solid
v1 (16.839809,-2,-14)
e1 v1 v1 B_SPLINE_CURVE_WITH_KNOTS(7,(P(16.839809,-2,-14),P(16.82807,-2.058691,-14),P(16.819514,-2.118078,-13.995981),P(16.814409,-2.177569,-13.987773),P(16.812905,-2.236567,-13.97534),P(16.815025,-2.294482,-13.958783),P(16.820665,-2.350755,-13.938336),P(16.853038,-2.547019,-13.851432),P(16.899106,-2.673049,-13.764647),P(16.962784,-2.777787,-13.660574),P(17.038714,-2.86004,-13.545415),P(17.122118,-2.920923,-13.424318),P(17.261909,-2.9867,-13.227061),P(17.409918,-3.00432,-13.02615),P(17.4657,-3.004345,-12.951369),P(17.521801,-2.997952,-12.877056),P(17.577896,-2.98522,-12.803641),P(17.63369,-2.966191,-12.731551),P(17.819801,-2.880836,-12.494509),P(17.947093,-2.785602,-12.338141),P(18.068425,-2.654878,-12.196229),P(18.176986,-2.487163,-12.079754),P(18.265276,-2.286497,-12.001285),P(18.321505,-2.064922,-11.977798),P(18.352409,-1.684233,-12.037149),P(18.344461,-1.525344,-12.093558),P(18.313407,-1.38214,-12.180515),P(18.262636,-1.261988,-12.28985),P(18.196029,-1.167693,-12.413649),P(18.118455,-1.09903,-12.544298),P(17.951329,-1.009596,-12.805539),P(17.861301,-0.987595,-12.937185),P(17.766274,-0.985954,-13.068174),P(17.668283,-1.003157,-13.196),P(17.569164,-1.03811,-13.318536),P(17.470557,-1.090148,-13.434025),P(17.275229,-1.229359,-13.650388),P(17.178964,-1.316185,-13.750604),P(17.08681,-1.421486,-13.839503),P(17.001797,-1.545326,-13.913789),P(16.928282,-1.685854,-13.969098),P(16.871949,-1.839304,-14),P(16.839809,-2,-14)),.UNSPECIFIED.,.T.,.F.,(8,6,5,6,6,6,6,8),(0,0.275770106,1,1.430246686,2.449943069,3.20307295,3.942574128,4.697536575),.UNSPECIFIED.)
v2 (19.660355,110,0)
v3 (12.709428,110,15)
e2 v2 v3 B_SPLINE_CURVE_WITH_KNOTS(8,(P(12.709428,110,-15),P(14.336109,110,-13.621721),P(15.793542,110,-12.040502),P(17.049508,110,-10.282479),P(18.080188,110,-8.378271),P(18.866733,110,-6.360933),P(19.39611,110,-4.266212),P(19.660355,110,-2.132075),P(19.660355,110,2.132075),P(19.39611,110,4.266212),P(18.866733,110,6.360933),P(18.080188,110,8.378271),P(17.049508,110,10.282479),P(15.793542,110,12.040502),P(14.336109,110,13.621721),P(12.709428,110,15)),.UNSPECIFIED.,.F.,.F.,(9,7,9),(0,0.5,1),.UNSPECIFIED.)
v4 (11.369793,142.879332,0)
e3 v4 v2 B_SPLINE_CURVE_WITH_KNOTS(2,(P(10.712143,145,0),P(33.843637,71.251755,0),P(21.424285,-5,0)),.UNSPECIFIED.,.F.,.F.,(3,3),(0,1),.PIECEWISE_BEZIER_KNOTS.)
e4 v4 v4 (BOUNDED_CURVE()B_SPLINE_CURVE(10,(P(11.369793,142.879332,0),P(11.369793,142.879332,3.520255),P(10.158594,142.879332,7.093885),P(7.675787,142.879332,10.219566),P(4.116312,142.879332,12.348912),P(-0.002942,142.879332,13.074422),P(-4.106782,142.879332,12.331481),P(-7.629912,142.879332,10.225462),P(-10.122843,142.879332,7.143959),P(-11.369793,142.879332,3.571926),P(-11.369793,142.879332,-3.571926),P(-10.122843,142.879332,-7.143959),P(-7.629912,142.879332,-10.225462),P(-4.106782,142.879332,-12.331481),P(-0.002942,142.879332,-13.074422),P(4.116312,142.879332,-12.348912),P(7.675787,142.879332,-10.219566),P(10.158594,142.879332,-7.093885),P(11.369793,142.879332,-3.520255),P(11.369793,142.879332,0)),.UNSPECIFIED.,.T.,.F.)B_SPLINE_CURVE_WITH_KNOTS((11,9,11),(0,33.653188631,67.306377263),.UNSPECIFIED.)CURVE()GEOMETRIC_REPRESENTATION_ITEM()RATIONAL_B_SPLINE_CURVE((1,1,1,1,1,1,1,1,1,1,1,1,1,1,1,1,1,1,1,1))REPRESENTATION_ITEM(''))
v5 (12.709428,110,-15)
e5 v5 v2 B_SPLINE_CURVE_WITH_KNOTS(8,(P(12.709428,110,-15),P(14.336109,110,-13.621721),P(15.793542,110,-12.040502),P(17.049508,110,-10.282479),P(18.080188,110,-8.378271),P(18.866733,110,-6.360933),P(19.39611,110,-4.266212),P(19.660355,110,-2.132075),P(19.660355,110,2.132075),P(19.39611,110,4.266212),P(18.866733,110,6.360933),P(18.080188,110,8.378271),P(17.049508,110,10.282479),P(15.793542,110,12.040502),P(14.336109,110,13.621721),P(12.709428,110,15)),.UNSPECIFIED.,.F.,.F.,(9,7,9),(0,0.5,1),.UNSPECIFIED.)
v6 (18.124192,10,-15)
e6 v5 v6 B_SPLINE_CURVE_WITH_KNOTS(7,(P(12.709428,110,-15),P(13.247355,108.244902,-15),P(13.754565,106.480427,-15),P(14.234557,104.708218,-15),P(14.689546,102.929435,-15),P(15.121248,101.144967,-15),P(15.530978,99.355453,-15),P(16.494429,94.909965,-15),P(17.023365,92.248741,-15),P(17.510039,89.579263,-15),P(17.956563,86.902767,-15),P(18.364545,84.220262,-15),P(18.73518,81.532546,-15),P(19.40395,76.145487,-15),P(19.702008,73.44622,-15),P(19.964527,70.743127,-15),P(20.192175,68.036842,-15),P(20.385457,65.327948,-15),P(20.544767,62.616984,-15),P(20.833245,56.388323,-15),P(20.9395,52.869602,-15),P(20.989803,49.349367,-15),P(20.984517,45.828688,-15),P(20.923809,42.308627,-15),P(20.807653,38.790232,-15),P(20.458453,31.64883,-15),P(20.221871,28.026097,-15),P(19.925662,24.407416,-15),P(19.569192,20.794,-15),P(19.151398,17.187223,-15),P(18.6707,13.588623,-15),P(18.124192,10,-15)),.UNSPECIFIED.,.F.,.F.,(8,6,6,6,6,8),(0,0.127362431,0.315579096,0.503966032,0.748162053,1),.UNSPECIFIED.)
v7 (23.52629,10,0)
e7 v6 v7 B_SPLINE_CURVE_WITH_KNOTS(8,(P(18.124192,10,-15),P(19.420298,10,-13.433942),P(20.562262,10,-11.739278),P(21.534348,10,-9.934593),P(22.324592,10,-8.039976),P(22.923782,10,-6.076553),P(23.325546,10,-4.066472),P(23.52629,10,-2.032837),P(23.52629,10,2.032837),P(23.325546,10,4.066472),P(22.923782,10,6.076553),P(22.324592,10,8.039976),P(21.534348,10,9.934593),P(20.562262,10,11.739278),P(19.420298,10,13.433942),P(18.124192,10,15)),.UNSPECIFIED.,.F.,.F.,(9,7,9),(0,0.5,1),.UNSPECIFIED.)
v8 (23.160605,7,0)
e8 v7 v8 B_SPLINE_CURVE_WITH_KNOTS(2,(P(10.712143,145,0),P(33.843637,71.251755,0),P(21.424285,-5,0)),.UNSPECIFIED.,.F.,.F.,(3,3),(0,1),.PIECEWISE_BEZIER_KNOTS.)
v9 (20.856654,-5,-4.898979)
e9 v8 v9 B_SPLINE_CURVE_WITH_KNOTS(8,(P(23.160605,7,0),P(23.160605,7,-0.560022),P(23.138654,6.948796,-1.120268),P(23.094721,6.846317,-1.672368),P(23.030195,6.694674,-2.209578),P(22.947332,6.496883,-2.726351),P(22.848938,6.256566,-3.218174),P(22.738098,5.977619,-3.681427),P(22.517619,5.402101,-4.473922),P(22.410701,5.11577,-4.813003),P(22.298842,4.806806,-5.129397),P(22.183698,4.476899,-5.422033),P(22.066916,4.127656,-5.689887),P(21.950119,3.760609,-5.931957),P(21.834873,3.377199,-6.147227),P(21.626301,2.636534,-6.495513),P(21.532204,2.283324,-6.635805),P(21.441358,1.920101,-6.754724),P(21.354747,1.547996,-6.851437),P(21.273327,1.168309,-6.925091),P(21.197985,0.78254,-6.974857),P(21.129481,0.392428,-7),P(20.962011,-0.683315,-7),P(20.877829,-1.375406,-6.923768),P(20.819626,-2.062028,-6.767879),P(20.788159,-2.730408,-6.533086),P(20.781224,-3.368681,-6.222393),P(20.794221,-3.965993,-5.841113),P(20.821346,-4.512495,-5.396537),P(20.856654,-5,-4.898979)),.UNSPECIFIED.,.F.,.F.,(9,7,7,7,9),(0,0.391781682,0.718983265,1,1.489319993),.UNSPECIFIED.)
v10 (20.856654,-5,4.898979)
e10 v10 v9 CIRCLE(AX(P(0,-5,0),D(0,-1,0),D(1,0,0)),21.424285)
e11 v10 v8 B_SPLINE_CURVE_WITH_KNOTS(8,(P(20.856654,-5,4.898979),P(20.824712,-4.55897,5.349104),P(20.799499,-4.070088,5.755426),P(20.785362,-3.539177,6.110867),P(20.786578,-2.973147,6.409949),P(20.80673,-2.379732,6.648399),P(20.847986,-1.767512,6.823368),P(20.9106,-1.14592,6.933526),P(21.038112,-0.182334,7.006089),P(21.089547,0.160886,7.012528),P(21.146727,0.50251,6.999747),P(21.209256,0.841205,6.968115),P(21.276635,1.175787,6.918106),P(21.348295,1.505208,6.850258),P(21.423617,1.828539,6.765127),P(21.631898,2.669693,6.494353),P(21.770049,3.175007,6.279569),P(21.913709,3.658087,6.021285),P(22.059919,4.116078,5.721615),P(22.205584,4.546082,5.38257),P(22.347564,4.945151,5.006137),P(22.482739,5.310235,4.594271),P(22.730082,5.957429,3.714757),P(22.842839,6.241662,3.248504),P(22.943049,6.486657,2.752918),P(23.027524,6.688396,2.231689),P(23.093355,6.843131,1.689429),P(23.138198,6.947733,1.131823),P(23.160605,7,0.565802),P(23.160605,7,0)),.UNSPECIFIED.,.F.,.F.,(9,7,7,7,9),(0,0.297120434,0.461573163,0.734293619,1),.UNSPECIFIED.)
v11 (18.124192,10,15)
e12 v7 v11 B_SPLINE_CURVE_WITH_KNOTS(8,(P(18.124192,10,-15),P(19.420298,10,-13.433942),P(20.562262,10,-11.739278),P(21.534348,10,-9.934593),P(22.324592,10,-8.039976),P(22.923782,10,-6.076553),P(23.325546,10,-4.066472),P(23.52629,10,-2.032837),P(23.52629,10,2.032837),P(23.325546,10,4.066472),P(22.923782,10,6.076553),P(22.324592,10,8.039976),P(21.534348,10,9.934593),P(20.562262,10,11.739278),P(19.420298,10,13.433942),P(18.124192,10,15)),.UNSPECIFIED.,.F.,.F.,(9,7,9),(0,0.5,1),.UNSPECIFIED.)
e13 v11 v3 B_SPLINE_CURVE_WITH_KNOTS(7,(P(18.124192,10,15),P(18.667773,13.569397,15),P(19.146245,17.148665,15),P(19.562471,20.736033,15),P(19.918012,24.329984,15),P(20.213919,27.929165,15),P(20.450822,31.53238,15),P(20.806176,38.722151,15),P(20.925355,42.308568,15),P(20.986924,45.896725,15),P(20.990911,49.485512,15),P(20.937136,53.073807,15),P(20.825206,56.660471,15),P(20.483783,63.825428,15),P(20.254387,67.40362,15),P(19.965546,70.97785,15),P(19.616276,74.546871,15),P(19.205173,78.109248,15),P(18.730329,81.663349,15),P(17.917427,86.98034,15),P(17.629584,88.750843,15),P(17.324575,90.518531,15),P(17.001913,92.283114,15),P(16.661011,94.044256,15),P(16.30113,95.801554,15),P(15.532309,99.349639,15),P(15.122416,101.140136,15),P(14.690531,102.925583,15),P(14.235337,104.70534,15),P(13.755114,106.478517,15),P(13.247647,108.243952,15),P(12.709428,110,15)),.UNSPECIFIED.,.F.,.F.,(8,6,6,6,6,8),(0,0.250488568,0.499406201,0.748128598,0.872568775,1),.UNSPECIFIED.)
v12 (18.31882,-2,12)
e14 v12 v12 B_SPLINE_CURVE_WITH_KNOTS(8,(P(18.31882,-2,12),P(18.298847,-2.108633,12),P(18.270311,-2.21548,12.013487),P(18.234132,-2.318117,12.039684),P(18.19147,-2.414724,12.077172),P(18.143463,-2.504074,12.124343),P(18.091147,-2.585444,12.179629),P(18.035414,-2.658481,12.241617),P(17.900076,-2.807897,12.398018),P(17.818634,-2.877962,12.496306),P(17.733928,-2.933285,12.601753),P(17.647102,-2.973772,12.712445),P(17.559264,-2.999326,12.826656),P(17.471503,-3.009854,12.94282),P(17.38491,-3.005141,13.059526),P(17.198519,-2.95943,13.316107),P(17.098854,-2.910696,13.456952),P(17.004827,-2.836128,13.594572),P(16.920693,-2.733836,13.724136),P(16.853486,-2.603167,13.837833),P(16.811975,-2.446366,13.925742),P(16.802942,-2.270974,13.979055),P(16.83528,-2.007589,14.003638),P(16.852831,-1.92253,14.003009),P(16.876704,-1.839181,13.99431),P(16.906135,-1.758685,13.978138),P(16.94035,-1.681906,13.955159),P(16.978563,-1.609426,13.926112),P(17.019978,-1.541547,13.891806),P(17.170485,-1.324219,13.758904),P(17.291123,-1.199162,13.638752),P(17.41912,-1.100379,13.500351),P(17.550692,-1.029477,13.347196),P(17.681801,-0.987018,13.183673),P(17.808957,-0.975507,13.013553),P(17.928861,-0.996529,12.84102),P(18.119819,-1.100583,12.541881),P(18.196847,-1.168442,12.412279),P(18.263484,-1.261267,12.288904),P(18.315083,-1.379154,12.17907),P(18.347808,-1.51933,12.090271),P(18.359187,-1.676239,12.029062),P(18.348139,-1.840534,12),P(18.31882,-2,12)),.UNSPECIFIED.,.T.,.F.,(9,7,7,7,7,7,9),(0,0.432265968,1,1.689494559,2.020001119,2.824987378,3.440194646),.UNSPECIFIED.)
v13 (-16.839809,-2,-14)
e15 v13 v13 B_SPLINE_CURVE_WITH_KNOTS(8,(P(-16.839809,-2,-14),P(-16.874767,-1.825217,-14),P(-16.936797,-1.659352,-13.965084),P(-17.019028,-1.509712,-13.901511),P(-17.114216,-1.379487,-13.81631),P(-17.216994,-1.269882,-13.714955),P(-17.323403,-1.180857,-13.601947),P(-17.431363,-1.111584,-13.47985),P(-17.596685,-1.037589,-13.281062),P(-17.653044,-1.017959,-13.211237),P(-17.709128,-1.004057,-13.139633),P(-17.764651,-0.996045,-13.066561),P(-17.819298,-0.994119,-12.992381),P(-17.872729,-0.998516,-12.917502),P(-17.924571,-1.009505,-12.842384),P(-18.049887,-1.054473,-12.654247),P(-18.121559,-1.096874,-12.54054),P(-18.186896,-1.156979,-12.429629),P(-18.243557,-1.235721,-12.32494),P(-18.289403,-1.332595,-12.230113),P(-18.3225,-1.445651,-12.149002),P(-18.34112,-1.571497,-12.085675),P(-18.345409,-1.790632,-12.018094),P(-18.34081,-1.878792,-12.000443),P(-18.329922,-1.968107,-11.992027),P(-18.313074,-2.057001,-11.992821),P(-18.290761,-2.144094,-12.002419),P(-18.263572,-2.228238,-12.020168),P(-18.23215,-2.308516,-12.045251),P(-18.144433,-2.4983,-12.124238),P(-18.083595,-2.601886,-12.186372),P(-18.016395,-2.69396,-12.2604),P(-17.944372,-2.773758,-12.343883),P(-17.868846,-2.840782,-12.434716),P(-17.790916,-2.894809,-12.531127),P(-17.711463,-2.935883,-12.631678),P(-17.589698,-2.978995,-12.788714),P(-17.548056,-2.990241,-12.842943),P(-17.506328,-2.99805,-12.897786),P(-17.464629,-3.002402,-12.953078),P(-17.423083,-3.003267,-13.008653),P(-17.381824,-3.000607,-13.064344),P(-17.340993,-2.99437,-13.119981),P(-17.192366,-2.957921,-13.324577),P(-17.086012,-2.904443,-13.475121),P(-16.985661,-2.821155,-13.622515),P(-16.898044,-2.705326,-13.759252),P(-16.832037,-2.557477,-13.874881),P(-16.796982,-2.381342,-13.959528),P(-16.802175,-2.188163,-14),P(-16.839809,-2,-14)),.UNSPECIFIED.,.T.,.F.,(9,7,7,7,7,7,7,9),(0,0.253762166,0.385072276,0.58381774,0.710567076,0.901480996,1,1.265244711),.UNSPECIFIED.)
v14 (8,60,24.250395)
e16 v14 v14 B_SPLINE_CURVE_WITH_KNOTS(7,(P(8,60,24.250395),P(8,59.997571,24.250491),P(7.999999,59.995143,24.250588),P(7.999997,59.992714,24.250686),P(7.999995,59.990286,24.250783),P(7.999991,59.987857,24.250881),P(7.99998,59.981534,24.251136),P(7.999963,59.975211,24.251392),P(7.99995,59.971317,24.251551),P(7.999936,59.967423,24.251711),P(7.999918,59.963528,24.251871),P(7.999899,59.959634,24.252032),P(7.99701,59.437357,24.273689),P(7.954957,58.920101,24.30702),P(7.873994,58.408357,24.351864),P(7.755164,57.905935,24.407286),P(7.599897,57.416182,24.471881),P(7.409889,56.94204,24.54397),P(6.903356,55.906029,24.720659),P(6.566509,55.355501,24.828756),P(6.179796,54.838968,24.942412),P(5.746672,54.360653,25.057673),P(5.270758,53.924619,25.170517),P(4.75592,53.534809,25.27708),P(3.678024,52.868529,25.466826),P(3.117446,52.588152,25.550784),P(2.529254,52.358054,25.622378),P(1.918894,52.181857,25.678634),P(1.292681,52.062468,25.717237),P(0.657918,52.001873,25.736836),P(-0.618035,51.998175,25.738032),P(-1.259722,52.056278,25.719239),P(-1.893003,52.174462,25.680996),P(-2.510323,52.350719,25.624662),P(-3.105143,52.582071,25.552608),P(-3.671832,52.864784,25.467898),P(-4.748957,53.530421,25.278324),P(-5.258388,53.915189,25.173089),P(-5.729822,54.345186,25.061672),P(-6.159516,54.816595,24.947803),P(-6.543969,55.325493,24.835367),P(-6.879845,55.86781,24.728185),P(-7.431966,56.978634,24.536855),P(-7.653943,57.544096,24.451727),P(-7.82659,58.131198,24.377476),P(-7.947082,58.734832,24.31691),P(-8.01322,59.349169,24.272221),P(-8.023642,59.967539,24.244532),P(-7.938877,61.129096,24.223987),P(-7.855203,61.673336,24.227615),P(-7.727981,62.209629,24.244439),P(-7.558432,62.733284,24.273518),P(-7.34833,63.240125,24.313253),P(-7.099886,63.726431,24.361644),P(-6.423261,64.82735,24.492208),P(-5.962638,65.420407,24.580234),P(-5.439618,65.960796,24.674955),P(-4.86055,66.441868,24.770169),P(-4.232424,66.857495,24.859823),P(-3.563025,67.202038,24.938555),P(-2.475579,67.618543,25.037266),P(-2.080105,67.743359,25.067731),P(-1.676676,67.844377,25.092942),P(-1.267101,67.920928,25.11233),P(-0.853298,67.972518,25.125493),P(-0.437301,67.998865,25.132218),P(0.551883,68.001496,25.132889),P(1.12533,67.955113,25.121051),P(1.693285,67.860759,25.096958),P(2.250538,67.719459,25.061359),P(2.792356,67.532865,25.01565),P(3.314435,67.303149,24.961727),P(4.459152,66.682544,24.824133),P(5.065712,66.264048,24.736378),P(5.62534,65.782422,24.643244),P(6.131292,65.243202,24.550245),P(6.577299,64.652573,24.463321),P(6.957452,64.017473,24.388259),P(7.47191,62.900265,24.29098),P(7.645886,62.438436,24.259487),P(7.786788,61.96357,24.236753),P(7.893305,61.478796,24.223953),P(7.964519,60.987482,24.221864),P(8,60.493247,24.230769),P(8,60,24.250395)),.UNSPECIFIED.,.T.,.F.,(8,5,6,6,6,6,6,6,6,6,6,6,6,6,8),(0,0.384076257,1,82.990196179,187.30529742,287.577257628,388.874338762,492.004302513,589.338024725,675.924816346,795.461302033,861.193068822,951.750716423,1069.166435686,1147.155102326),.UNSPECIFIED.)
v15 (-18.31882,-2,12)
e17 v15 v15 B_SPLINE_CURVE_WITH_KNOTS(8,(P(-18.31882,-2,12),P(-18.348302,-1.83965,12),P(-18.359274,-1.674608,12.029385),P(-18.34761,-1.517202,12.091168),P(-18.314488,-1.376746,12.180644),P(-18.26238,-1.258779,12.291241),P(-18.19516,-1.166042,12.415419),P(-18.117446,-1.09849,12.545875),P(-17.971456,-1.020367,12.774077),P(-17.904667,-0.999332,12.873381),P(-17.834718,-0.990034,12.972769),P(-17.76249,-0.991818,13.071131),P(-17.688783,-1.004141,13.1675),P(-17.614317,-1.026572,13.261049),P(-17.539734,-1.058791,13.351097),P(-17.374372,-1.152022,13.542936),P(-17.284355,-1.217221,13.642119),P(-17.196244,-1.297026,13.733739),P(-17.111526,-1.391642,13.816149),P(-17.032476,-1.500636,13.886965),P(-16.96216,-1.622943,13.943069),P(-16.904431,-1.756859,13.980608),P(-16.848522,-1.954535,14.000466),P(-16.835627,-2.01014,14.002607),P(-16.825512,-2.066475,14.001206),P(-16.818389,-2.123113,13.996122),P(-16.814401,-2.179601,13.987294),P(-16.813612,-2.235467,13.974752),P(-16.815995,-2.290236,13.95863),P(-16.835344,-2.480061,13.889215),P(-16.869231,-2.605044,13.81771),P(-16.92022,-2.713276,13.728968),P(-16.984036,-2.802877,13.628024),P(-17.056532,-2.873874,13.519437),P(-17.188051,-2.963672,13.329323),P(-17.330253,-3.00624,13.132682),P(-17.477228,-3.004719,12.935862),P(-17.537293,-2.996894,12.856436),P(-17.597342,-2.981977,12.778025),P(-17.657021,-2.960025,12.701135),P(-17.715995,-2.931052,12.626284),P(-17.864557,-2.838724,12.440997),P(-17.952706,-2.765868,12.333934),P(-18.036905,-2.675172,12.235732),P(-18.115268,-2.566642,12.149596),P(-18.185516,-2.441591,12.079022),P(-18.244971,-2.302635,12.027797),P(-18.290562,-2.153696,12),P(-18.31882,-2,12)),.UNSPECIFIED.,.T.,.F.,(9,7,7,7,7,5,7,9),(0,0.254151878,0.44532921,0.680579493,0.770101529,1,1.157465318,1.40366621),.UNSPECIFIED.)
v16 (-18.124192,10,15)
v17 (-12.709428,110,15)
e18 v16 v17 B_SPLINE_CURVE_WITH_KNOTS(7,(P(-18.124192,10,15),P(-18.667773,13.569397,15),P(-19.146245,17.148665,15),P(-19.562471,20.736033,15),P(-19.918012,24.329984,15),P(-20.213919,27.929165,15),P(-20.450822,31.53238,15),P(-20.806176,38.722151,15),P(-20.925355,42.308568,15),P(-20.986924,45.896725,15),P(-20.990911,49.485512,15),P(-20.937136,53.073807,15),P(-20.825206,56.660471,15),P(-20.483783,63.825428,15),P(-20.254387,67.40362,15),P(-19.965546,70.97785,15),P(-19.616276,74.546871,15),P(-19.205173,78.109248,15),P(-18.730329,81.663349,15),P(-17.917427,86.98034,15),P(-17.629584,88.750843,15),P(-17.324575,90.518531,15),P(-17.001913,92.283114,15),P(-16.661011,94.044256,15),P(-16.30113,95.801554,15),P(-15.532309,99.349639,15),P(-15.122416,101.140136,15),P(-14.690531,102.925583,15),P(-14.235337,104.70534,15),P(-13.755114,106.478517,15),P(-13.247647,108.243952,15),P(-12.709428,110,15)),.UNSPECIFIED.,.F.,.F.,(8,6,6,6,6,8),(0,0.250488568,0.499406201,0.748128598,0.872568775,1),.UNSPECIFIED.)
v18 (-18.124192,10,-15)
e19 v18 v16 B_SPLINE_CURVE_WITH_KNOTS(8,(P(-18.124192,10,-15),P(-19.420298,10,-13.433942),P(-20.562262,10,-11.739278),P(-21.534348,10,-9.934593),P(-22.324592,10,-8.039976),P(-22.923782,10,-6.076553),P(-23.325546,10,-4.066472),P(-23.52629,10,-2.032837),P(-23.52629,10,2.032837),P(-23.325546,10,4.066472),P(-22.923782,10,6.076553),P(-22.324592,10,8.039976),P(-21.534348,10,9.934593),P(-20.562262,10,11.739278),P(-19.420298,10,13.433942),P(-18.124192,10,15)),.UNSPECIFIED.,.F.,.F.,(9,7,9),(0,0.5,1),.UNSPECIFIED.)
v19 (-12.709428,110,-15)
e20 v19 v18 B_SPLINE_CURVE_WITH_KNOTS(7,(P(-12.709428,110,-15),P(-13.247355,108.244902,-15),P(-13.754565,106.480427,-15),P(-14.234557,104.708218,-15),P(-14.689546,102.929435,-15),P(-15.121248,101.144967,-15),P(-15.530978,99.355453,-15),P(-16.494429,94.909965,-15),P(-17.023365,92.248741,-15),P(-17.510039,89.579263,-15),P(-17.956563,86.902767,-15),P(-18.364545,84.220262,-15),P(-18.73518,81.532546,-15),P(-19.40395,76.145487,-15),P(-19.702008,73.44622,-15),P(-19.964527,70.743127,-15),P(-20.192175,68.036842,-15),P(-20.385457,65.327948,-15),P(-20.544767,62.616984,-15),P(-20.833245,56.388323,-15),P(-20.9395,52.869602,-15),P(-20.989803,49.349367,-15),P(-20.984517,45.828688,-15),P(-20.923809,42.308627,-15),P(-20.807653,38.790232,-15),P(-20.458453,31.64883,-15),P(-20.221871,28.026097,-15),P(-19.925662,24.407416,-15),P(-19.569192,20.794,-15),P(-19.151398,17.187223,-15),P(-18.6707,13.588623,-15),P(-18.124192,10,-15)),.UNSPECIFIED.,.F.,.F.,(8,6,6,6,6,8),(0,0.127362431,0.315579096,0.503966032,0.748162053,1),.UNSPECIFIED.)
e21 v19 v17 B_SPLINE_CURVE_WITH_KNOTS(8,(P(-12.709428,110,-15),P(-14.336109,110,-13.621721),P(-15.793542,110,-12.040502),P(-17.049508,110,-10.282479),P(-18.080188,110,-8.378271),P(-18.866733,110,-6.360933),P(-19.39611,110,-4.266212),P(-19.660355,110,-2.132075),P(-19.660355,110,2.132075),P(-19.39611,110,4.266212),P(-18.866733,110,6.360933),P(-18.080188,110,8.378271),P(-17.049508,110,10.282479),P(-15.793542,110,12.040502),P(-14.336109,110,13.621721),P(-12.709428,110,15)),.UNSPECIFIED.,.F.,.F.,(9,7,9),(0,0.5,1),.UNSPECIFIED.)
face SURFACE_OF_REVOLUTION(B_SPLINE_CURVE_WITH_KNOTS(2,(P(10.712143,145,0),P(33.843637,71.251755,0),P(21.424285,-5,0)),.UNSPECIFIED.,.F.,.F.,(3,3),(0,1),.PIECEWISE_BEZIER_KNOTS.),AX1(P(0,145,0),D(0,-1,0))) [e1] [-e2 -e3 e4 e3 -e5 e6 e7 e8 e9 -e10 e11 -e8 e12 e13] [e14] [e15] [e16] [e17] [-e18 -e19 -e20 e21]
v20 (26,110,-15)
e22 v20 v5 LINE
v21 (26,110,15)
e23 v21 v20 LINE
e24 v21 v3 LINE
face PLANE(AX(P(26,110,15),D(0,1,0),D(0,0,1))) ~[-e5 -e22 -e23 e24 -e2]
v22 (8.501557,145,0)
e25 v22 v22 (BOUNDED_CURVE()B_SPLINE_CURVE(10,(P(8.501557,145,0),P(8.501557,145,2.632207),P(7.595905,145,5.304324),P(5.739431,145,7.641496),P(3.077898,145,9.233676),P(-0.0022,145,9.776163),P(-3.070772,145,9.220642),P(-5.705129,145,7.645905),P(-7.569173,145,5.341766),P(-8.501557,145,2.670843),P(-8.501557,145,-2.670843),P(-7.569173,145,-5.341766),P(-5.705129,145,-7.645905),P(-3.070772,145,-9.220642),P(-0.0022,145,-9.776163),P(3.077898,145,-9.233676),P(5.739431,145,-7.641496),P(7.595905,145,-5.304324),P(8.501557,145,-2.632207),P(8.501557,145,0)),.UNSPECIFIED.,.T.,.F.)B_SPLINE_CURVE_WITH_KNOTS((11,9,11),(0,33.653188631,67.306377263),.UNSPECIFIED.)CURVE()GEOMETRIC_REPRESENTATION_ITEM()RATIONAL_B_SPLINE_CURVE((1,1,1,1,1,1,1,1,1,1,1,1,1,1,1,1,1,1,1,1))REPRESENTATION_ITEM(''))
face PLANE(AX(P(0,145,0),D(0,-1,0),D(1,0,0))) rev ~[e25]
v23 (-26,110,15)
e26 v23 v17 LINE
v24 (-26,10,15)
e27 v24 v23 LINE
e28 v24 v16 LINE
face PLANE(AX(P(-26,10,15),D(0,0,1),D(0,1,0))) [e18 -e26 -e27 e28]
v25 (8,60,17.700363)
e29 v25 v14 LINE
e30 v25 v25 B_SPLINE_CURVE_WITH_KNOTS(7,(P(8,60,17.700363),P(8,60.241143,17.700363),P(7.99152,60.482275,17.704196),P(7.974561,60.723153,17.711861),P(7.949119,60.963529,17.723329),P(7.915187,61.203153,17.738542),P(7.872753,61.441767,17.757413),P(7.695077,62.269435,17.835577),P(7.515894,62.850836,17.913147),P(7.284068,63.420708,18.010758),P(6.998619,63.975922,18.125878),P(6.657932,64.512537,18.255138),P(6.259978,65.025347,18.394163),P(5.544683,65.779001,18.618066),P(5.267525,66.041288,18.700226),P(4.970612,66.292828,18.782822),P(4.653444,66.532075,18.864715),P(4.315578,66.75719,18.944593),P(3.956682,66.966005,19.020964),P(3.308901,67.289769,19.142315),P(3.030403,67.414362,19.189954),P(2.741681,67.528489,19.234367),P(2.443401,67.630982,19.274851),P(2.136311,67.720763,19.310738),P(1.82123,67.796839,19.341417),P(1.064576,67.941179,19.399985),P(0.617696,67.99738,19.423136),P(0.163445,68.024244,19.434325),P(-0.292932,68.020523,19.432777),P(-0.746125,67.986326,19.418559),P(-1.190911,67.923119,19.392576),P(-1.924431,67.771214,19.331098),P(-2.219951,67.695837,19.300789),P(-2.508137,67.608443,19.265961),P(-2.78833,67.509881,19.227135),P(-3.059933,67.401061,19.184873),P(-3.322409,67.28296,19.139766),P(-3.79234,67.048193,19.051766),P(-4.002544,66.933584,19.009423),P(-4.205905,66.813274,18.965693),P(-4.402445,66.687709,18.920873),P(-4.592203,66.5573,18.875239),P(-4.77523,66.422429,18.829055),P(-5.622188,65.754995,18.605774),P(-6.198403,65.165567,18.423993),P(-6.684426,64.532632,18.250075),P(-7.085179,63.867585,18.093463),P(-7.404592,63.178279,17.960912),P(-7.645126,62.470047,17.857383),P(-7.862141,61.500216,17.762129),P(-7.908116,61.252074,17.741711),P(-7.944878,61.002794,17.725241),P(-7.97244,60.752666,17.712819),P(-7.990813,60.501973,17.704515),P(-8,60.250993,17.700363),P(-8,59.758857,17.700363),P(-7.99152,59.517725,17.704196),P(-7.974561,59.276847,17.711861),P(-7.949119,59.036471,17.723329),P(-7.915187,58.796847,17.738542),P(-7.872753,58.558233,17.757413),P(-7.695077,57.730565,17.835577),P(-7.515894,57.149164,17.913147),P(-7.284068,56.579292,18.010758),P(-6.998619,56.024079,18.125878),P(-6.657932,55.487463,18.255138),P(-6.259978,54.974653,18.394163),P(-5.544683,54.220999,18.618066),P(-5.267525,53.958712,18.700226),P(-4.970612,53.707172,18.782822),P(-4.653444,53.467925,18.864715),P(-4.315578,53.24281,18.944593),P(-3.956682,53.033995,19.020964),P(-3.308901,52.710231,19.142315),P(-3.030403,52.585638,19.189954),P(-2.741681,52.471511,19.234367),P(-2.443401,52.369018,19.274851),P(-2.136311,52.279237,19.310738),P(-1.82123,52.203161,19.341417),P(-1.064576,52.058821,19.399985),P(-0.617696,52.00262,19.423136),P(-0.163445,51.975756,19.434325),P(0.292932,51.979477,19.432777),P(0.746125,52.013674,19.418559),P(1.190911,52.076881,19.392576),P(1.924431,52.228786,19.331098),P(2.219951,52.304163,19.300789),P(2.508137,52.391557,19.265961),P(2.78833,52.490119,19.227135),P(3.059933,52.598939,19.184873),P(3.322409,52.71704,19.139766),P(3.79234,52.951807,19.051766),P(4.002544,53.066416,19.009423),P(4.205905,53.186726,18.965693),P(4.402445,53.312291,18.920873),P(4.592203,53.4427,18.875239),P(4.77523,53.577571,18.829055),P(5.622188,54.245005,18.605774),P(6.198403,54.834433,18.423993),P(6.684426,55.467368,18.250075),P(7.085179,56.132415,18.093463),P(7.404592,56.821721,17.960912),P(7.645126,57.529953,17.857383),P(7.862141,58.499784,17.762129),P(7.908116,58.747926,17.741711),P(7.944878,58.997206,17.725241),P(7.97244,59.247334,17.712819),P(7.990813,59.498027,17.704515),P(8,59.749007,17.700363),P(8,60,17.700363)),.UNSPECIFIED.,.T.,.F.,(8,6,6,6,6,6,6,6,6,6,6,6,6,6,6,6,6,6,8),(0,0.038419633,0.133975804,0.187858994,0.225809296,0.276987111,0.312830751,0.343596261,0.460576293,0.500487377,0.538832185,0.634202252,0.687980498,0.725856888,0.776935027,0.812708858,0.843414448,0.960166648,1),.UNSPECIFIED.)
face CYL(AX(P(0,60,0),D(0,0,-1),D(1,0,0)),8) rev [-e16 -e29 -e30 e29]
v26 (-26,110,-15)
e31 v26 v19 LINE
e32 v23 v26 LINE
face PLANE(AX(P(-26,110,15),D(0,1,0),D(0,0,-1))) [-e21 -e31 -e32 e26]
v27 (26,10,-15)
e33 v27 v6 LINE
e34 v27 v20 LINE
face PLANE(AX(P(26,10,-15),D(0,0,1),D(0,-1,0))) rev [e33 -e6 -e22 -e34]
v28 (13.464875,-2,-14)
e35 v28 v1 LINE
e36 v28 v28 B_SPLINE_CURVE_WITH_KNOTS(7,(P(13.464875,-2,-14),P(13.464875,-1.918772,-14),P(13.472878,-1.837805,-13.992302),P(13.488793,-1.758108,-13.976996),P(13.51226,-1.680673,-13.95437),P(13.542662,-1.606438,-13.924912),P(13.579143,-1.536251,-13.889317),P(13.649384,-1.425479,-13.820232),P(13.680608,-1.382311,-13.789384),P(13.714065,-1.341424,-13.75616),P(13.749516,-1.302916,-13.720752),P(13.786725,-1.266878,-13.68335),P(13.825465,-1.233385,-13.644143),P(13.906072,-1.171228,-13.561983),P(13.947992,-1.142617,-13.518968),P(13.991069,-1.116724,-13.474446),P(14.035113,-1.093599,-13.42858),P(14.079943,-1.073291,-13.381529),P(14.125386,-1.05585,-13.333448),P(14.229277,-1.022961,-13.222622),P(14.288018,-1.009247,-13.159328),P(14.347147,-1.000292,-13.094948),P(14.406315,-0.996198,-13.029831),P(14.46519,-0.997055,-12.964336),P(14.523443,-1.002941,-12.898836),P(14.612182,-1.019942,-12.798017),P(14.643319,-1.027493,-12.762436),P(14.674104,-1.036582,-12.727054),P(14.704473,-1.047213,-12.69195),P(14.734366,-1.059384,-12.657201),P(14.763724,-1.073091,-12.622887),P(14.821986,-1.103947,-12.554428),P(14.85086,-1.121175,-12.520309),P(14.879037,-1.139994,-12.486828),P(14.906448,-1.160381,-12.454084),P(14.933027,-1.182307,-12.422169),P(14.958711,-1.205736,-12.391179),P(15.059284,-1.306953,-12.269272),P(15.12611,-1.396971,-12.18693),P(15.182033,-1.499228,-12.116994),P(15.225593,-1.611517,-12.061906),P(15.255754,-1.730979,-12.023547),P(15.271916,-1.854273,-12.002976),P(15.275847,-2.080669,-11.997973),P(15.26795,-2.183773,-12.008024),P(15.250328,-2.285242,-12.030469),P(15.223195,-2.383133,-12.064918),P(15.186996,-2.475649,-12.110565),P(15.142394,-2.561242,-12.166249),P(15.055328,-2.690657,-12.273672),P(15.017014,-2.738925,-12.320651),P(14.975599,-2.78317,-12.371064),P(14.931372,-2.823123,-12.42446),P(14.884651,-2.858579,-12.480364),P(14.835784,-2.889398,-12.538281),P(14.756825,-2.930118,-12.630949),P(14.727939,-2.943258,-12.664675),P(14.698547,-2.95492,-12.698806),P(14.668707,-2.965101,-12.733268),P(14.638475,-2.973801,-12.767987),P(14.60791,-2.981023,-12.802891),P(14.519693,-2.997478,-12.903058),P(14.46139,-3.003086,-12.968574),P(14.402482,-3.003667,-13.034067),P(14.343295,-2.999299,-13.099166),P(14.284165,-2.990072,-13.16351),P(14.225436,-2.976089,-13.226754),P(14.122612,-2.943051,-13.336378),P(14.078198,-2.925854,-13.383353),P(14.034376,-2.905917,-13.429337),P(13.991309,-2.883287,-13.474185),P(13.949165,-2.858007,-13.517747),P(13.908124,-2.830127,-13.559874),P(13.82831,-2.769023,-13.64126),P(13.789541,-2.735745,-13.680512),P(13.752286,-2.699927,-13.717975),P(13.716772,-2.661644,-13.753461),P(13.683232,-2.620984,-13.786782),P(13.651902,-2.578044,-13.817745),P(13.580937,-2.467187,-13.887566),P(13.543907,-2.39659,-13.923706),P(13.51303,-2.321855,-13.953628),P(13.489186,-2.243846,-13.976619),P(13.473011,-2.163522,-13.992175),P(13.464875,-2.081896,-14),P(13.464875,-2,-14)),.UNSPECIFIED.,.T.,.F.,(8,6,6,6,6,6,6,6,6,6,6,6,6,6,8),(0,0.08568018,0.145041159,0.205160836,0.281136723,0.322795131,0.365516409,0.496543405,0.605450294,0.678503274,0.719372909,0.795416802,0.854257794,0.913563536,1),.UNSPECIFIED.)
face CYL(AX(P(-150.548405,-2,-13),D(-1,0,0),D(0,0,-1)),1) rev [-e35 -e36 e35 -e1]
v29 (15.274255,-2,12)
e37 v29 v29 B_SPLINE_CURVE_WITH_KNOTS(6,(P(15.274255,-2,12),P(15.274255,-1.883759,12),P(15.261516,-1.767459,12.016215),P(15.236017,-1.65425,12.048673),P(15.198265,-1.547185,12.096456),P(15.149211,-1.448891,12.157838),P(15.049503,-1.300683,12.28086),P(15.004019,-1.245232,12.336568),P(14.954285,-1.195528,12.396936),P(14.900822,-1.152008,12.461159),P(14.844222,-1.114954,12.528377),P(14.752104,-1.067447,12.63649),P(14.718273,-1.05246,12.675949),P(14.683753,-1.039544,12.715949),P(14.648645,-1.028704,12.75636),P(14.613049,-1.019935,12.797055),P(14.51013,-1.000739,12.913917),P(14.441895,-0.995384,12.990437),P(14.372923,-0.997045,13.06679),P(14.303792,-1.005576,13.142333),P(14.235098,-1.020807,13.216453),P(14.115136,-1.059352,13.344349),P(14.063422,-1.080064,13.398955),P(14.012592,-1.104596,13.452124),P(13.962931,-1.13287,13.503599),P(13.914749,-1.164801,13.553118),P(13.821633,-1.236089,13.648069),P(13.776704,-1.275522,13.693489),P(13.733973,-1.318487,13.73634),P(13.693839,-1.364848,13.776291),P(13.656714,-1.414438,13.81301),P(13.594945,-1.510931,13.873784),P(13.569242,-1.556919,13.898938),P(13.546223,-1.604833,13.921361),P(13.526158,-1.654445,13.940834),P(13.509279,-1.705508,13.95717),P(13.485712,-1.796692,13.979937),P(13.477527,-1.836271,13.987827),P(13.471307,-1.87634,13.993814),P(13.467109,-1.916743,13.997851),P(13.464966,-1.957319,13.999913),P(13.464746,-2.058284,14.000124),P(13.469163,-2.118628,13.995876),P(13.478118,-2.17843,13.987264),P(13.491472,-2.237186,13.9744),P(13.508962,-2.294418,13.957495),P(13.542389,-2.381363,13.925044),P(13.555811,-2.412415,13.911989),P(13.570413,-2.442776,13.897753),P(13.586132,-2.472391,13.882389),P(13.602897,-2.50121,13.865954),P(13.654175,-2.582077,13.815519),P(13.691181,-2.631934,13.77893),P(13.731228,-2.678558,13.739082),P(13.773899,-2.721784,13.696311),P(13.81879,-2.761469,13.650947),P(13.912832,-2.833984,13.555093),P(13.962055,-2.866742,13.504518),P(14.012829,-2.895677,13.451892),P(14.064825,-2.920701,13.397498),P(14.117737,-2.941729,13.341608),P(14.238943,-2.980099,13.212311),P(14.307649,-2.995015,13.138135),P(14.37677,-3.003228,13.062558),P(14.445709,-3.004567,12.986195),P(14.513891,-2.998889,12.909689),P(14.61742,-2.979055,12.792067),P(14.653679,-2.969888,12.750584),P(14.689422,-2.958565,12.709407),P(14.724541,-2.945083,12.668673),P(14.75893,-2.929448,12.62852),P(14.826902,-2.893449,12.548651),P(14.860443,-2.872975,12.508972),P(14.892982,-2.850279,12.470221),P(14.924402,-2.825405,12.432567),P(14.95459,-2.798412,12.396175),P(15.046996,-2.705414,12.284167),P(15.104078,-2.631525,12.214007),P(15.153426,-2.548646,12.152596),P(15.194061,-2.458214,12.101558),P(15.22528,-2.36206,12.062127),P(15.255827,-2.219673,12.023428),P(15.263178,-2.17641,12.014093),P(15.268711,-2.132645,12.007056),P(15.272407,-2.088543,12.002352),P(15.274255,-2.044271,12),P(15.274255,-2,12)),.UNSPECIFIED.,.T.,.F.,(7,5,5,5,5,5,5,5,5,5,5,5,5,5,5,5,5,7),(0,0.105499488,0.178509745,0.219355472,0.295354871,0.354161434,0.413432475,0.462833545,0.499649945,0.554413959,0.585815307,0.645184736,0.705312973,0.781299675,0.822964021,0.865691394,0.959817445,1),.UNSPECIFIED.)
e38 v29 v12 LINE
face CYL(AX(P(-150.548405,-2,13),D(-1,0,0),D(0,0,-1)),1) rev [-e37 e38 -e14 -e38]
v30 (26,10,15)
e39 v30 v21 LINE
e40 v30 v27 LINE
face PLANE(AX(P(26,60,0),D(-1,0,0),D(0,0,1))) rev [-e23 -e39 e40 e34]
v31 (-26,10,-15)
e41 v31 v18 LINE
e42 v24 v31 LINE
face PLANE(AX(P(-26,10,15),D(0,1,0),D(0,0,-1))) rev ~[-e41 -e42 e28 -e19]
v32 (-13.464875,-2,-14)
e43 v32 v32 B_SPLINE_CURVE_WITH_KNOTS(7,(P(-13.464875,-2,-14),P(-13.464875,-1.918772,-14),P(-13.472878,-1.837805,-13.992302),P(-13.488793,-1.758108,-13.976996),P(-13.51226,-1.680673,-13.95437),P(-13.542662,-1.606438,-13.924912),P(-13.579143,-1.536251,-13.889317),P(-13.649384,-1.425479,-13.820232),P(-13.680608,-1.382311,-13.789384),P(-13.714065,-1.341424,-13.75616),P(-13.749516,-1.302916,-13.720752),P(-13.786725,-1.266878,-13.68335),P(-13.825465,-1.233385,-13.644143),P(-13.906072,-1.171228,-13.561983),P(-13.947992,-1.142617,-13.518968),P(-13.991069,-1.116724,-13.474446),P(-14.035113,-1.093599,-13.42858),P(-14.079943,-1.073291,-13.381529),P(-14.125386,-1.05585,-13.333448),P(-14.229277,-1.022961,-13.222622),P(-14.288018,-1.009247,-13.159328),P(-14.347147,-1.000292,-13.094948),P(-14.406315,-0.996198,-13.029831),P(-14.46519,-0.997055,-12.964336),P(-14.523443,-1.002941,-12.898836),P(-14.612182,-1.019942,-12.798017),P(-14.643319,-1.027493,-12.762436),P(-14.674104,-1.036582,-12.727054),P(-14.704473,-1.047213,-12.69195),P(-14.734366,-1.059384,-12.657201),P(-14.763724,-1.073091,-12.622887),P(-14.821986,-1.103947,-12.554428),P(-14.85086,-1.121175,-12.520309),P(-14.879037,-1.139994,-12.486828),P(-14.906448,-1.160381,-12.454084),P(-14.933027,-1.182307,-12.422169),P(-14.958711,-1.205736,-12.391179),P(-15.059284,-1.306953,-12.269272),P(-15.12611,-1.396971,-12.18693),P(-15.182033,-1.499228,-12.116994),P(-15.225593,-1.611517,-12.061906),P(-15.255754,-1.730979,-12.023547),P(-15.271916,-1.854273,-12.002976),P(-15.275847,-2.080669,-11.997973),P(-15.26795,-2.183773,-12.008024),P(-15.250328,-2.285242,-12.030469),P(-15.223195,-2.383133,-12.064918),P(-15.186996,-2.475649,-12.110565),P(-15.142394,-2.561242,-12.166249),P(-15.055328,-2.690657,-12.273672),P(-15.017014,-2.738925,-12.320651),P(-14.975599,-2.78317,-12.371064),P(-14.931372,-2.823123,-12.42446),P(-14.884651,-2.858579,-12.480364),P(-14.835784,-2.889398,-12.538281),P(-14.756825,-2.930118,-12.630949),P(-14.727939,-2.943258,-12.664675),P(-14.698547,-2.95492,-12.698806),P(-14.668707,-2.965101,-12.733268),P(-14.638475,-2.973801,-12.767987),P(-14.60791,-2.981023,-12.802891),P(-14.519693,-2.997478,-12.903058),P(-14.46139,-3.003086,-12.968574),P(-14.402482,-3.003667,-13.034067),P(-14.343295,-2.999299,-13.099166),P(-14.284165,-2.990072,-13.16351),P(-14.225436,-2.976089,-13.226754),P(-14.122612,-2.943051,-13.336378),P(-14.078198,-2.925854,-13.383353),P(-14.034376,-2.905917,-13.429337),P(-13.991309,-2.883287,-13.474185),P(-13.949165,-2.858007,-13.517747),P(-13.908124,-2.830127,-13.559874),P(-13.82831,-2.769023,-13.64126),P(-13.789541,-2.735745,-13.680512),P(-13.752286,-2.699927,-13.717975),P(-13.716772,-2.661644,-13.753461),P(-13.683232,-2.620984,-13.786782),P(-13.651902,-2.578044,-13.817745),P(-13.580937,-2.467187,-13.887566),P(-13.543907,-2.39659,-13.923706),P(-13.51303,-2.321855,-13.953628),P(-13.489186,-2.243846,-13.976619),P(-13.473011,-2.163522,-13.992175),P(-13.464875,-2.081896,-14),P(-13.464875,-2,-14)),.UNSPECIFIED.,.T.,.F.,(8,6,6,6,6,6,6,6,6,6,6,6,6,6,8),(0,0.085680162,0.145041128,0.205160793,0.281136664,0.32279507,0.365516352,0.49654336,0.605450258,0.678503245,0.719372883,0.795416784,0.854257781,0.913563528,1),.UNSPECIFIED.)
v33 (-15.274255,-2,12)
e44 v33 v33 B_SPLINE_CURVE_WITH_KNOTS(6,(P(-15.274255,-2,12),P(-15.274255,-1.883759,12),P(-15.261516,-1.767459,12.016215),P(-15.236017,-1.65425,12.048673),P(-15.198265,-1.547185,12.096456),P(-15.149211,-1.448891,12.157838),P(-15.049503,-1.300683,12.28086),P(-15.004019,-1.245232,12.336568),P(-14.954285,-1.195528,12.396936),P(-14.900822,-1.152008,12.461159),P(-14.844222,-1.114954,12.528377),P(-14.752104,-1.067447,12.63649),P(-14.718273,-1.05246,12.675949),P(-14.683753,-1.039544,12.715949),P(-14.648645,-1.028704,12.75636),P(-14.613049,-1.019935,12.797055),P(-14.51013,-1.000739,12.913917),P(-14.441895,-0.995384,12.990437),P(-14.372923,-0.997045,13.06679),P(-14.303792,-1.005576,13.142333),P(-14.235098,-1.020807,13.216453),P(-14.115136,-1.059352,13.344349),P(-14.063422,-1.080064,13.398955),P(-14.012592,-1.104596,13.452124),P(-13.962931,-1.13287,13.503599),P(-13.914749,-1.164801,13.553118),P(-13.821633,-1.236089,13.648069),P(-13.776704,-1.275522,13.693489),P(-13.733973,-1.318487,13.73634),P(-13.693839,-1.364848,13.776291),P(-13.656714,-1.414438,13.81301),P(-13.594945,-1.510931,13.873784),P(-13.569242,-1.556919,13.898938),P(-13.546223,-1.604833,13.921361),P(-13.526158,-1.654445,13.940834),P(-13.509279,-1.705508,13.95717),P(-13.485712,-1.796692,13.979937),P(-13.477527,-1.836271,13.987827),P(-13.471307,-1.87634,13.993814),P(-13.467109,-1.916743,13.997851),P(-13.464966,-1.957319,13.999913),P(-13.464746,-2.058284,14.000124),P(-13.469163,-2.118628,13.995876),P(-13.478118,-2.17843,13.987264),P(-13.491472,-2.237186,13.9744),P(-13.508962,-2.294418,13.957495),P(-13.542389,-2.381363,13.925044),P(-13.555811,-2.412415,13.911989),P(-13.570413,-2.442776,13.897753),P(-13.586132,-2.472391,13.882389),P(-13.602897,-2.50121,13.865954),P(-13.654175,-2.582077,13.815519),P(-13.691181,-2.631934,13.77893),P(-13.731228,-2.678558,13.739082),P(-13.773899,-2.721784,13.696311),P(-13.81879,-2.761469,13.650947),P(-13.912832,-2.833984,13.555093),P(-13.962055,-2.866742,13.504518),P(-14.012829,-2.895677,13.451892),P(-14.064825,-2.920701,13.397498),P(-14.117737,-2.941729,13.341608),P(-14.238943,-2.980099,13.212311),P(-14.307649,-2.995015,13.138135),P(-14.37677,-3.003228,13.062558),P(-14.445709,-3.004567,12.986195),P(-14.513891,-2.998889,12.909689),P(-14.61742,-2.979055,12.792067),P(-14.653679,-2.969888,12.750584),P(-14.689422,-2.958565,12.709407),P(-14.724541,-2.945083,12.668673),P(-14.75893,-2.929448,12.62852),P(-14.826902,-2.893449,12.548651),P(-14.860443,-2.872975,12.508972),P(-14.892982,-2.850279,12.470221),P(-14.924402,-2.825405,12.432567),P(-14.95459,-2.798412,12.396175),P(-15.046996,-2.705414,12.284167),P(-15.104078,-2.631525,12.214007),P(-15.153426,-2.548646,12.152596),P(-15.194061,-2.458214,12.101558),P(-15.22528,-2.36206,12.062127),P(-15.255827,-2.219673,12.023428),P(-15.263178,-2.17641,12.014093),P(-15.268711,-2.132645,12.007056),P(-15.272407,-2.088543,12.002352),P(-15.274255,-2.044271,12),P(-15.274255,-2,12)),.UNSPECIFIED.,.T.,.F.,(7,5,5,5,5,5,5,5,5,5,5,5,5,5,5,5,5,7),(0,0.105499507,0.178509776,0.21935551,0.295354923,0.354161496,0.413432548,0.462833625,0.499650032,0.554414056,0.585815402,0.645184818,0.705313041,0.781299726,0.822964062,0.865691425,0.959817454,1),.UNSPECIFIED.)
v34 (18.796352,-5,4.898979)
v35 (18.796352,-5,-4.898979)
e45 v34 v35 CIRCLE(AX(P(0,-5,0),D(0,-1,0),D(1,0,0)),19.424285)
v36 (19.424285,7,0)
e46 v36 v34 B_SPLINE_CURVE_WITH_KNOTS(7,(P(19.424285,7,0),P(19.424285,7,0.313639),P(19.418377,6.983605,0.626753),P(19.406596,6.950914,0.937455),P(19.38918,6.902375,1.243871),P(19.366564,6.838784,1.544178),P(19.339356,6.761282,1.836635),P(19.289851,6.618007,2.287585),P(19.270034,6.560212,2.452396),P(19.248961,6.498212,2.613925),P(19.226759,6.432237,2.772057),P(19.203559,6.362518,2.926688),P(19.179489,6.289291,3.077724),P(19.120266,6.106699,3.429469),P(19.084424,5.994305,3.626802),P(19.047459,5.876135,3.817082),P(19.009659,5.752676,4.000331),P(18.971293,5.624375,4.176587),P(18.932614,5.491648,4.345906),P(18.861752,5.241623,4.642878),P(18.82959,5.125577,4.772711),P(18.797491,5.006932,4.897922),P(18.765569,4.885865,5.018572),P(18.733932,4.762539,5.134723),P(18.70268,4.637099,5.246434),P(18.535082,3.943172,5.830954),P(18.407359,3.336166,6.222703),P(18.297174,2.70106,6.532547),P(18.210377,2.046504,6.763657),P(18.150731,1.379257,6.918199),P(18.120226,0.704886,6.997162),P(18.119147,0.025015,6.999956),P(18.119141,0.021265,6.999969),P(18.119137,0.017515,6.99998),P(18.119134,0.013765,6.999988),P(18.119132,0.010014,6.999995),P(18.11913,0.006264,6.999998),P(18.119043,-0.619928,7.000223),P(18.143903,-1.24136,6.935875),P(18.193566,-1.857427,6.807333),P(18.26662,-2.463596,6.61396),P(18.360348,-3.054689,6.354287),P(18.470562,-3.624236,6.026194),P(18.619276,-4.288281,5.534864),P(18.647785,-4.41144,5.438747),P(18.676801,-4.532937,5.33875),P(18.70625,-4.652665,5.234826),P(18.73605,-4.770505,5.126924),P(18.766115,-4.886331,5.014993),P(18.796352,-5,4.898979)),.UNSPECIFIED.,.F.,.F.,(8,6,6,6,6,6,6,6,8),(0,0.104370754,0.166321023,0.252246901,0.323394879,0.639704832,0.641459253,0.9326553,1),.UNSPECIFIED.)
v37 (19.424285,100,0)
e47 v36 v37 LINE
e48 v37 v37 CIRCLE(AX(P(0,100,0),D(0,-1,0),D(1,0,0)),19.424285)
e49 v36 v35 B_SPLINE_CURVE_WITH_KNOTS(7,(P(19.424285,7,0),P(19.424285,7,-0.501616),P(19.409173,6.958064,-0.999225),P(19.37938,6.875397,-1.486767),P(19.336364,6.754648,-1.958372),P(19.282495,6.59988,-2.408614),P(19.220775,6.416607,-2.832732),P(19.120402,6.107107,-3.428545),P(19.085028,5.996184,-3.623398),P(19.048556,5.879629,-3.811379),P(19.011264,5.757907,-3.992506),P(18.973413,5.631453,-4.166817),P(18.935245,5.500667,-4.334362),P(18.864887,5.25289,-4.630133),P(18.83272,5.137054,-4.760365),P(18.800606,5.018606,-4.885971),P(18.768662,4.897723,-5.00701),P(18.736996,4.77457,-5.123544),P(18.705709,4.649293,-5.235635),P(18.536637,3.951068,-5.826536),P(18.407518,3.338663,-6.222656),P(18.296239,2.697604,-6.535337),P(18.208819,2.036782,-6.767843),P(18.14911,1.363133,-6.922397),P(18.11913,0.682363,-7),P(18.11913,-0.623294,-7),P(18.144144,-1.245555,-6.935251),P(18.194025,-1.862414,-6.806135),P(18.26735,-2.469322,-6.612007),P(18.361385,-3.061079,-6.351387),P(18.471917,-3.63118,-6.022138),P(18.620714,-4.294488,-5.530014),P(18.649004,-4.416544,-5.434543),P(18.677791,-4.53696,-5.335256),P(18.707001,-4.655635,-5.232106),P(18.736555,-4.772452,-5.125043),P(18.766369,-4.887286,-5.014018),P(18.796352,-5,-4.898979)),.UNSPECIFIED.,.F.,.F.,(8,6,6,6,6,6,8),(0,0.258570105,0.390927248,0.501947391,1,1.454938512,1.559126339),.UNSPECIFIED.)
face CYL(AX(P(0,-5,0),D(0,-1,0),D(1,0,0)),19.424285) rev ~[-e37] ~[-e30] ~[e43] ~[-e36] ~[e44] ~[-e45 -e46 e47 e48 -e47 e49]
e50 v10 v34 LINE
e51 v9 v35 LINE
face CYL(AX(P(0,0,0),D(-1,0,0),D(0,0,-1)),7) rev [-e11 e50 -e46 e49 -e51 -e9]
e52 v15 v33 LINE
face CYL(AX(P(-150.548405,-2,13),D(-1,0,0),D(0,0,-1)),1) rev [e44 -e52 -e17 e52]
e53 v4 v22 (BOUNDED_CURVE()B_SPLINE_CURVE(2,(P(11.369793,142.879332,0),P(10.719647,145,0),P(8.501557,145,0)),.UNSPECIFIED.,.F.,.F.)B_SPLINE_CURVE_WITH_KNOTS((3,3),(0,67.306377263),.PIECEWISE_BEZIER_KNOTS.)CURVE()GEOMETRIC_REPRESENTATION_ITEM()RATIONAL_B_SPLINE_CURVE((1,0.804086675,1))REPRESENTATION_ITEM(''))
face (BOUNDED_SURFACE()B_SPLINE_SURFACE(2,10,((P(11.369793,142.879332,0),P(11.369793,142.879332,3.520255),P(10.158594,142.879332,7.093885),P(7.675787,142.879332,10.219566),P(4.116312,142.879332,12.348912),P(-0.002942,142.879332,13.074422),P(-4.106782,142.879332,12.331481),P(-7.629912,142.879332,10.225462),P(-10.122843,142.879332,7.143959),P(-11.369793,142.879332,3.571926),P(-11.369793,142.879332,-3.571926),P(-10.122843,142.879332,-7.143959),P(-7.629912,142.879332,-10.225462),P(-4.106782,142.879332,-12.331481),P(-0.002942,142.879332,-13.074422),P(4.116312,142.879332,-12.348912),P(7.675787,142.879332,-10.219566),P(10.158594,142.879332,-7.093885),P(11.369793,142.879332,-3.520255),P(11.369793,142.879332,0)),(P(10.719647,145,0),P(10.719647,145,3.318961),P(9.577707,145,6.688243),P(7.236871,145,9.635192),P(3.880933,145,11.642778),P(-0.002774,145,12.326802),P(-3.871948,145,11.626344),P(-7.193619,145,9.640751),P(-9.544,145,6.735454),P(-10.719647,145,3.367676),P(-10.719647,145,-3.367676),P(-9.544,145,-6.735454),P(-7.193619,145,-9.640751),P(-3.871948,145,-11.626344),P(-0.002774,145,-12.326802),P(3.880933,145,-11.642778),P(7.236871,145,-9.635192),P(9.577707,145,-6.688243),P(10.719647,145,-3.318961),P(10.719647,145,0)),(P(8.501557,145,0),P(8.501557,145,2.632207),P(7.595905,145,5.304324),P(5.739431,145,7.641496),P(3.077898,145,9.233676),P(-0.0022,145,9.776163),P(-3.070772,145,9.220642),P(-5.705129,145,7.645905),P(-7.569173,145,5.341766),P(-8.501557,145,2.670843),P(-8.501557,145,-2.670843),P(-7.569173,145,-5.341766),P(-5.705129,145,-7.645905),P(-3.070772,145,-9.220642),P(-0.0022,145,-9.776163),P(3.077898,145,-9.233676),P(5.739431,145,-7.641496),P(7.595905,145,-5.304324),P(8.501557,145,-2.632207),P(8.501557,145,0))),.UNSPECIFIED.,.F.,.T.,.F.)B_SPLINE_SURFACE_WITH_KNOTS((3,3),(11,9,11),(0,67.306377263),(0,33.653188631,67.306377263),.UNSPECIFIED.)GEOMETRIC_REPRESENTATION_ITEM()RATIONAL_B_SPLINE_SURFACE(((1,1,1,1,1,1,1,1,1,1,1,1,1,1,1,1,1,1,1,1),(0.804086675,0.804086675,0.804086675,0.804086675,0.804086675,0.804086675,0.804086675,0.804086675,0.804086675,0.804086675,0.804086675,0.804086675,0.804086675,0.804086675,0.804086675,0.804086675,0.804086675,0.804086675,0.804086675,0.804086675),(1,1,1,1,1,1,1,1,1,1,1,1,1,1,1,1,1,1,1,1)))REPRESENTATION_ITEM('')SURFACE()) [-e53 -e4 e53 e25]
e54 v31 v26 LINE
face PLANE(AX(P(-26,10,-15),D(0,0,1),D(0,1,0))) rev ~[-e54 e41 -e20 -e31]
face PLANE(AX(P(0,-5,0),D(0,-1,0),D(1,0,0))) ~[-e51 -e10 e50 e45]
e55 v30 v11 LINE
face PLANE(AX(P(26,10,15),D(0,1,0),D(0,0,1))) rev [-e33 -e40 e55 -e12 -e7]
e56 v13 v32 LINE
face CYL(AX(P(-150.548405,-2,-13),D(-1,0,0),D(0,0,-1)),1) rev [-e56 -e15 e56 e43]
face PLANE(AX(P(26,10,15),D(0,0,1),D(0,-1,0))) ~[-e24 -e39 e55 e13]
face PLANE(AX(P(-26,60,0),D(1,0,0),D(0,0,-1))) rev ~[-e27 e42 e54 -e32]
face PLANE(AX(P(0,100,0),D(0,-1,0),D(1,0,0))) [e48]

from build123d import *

# Parameters (mm, degrees)
FILLET_ON_TOP_EDGE_R                 = 3
SKETCH7_R                            = 7
CUT_FOR_WIRES_DEPTH                  = 150.507360339
SKETCH8_R                            = 19.424285286
CUT_FOR_HOLLOW_INSIDE_DEPTH          = 105
SKETCH9_R                            = 8
CUT_FOR_SIDE_BUTTON_DEPTH            = 150.507360339
RIGHT_PCB_PLATE_REACH                = 158.103
SKETCH10_W                           = 30
SKETCH10_H                           = 100
CUTS_FOR_BODY_SCREW_HOLES_DEPTH      = 150.548404931
CUTS_FOR_BODY_SCREW_HOLES_DEPTH_BACK = 150.548404931
SKETCH11_R                           = 1


with BuildPart() as part:
    # Sketch2 → Main Body (revolve)
    with BuildSketch(Plane.XY):
        with BuildLine():
            Line((0, 145), (0, -5))
            Line((0, -5), (21.424285286, -5))
            add(Edge.make_bspline(
                [(10.712142643, 145), (33.843636783, 71.251754866), (21.424285286, -5)],
                knots=[0, 0, 0, 1, 1, 1], degree=2))
            Line((10.712142643, 145), (0, 145))
        make_face()
    revolve(axis=Axis((0, 145, 0), (0, -1, 0)))

    # Fillet on Top Edge
    fillet_on_top_edge_edges = [part.edges().sort_by_distance(p)[0] for p in [
        (-10.712142643, 145, 0),
    ]]
    fillet(fillet_on_top_edge_edges, radius=FILLET_ON_TOP_EDGE_R)

    # Sketch7 → Cut for Wires (cut, through all)
    with BuildSketch(Plane(origin=(0, 0, 0), x_dir=(0, 0, -1), z_dir=(1, 0, 0))):
        Circle(SKETCH7_R)
    extrude(amount=CUT_FOR_WIRES_DEPTH, mode=Mode.SUBTRACT)

    # Sketch8 → Cut for Hollow Inside (cut)
    with BuildSketch(Plane.XZ.offset(5)):
        Circle(SKETCH8_R)
    extrude(amount=-CUT_FOR_HOLLOW_INSIDE_DEPTH, mode=Mode.SUBTRACT)

    # Sketch9 → Cut for Side Button (cut, through all)
    with BuildSketch(Plane.XY):
        with Locations((0, 60)):
            Circle(SKETCH9_R)
    extrude(amount=CUT_FOR_SIDE_BUTTON_DEPTH, mode=Mode.SUBTRACT)

    # Sketch10 → Right PCB Plate (add, up to next)
    with BuildSketch(Plane(origin=(-26, 0, 0), x_dir=(0, 0, -1), z_dir=(1, 0, 0)), mode=Mode.PRIVATE) as right_pcb_plate_sk1:
        with Locations((0, 60)):
            Rectangle(SKETCH10_W, SKETCH10_H)
    right_pcb_plate_tool1 = extrude(right_pcb_plate_sk1.sketch, amount=RIGHT_PCB_PLATE_REACH, mode=Mode.PRIVATE) - part.part
    right_pcb_plate = right_pcb_plate_tool1.solids().sort_by_distance((-26, 60, 0))[0]
    add(right_pcb_plate)

    # Left PCB Plate: Right PCB Plate across plane
    add(right_pcb_plate.mirror(Plane(origin=(0, 0, 0), x_dir=(0, 0, 1), z_dir=(1, 0, 0))))

    # Sketch11 → Cuts for Body Screw Holes (cut, two sides: drawn at the far end of the back side and taken through both)
    with BuildSketch(Plane(origin=(0, 0, 0), x_dir=(0, 0, -1), z_dir=(1, 0, 0)).offset(-CUTS_FOR_BODY_SCREW_HOLES_DEPTH_BACK)):
        with Locations((-13, -2)):
            Circle(SKETCH11_R)
        with Locations((13, -2)):
            Circle(SKETCH11_R)
    extrude(amount=CUTS_FOR_BODY_SCREW_HOLES_DEPTH + CUTS_FOR_BODY_SCREW_HOLES_DEPTH_BACK, mode=Mode.SUBTRACT)


solid = part.part
